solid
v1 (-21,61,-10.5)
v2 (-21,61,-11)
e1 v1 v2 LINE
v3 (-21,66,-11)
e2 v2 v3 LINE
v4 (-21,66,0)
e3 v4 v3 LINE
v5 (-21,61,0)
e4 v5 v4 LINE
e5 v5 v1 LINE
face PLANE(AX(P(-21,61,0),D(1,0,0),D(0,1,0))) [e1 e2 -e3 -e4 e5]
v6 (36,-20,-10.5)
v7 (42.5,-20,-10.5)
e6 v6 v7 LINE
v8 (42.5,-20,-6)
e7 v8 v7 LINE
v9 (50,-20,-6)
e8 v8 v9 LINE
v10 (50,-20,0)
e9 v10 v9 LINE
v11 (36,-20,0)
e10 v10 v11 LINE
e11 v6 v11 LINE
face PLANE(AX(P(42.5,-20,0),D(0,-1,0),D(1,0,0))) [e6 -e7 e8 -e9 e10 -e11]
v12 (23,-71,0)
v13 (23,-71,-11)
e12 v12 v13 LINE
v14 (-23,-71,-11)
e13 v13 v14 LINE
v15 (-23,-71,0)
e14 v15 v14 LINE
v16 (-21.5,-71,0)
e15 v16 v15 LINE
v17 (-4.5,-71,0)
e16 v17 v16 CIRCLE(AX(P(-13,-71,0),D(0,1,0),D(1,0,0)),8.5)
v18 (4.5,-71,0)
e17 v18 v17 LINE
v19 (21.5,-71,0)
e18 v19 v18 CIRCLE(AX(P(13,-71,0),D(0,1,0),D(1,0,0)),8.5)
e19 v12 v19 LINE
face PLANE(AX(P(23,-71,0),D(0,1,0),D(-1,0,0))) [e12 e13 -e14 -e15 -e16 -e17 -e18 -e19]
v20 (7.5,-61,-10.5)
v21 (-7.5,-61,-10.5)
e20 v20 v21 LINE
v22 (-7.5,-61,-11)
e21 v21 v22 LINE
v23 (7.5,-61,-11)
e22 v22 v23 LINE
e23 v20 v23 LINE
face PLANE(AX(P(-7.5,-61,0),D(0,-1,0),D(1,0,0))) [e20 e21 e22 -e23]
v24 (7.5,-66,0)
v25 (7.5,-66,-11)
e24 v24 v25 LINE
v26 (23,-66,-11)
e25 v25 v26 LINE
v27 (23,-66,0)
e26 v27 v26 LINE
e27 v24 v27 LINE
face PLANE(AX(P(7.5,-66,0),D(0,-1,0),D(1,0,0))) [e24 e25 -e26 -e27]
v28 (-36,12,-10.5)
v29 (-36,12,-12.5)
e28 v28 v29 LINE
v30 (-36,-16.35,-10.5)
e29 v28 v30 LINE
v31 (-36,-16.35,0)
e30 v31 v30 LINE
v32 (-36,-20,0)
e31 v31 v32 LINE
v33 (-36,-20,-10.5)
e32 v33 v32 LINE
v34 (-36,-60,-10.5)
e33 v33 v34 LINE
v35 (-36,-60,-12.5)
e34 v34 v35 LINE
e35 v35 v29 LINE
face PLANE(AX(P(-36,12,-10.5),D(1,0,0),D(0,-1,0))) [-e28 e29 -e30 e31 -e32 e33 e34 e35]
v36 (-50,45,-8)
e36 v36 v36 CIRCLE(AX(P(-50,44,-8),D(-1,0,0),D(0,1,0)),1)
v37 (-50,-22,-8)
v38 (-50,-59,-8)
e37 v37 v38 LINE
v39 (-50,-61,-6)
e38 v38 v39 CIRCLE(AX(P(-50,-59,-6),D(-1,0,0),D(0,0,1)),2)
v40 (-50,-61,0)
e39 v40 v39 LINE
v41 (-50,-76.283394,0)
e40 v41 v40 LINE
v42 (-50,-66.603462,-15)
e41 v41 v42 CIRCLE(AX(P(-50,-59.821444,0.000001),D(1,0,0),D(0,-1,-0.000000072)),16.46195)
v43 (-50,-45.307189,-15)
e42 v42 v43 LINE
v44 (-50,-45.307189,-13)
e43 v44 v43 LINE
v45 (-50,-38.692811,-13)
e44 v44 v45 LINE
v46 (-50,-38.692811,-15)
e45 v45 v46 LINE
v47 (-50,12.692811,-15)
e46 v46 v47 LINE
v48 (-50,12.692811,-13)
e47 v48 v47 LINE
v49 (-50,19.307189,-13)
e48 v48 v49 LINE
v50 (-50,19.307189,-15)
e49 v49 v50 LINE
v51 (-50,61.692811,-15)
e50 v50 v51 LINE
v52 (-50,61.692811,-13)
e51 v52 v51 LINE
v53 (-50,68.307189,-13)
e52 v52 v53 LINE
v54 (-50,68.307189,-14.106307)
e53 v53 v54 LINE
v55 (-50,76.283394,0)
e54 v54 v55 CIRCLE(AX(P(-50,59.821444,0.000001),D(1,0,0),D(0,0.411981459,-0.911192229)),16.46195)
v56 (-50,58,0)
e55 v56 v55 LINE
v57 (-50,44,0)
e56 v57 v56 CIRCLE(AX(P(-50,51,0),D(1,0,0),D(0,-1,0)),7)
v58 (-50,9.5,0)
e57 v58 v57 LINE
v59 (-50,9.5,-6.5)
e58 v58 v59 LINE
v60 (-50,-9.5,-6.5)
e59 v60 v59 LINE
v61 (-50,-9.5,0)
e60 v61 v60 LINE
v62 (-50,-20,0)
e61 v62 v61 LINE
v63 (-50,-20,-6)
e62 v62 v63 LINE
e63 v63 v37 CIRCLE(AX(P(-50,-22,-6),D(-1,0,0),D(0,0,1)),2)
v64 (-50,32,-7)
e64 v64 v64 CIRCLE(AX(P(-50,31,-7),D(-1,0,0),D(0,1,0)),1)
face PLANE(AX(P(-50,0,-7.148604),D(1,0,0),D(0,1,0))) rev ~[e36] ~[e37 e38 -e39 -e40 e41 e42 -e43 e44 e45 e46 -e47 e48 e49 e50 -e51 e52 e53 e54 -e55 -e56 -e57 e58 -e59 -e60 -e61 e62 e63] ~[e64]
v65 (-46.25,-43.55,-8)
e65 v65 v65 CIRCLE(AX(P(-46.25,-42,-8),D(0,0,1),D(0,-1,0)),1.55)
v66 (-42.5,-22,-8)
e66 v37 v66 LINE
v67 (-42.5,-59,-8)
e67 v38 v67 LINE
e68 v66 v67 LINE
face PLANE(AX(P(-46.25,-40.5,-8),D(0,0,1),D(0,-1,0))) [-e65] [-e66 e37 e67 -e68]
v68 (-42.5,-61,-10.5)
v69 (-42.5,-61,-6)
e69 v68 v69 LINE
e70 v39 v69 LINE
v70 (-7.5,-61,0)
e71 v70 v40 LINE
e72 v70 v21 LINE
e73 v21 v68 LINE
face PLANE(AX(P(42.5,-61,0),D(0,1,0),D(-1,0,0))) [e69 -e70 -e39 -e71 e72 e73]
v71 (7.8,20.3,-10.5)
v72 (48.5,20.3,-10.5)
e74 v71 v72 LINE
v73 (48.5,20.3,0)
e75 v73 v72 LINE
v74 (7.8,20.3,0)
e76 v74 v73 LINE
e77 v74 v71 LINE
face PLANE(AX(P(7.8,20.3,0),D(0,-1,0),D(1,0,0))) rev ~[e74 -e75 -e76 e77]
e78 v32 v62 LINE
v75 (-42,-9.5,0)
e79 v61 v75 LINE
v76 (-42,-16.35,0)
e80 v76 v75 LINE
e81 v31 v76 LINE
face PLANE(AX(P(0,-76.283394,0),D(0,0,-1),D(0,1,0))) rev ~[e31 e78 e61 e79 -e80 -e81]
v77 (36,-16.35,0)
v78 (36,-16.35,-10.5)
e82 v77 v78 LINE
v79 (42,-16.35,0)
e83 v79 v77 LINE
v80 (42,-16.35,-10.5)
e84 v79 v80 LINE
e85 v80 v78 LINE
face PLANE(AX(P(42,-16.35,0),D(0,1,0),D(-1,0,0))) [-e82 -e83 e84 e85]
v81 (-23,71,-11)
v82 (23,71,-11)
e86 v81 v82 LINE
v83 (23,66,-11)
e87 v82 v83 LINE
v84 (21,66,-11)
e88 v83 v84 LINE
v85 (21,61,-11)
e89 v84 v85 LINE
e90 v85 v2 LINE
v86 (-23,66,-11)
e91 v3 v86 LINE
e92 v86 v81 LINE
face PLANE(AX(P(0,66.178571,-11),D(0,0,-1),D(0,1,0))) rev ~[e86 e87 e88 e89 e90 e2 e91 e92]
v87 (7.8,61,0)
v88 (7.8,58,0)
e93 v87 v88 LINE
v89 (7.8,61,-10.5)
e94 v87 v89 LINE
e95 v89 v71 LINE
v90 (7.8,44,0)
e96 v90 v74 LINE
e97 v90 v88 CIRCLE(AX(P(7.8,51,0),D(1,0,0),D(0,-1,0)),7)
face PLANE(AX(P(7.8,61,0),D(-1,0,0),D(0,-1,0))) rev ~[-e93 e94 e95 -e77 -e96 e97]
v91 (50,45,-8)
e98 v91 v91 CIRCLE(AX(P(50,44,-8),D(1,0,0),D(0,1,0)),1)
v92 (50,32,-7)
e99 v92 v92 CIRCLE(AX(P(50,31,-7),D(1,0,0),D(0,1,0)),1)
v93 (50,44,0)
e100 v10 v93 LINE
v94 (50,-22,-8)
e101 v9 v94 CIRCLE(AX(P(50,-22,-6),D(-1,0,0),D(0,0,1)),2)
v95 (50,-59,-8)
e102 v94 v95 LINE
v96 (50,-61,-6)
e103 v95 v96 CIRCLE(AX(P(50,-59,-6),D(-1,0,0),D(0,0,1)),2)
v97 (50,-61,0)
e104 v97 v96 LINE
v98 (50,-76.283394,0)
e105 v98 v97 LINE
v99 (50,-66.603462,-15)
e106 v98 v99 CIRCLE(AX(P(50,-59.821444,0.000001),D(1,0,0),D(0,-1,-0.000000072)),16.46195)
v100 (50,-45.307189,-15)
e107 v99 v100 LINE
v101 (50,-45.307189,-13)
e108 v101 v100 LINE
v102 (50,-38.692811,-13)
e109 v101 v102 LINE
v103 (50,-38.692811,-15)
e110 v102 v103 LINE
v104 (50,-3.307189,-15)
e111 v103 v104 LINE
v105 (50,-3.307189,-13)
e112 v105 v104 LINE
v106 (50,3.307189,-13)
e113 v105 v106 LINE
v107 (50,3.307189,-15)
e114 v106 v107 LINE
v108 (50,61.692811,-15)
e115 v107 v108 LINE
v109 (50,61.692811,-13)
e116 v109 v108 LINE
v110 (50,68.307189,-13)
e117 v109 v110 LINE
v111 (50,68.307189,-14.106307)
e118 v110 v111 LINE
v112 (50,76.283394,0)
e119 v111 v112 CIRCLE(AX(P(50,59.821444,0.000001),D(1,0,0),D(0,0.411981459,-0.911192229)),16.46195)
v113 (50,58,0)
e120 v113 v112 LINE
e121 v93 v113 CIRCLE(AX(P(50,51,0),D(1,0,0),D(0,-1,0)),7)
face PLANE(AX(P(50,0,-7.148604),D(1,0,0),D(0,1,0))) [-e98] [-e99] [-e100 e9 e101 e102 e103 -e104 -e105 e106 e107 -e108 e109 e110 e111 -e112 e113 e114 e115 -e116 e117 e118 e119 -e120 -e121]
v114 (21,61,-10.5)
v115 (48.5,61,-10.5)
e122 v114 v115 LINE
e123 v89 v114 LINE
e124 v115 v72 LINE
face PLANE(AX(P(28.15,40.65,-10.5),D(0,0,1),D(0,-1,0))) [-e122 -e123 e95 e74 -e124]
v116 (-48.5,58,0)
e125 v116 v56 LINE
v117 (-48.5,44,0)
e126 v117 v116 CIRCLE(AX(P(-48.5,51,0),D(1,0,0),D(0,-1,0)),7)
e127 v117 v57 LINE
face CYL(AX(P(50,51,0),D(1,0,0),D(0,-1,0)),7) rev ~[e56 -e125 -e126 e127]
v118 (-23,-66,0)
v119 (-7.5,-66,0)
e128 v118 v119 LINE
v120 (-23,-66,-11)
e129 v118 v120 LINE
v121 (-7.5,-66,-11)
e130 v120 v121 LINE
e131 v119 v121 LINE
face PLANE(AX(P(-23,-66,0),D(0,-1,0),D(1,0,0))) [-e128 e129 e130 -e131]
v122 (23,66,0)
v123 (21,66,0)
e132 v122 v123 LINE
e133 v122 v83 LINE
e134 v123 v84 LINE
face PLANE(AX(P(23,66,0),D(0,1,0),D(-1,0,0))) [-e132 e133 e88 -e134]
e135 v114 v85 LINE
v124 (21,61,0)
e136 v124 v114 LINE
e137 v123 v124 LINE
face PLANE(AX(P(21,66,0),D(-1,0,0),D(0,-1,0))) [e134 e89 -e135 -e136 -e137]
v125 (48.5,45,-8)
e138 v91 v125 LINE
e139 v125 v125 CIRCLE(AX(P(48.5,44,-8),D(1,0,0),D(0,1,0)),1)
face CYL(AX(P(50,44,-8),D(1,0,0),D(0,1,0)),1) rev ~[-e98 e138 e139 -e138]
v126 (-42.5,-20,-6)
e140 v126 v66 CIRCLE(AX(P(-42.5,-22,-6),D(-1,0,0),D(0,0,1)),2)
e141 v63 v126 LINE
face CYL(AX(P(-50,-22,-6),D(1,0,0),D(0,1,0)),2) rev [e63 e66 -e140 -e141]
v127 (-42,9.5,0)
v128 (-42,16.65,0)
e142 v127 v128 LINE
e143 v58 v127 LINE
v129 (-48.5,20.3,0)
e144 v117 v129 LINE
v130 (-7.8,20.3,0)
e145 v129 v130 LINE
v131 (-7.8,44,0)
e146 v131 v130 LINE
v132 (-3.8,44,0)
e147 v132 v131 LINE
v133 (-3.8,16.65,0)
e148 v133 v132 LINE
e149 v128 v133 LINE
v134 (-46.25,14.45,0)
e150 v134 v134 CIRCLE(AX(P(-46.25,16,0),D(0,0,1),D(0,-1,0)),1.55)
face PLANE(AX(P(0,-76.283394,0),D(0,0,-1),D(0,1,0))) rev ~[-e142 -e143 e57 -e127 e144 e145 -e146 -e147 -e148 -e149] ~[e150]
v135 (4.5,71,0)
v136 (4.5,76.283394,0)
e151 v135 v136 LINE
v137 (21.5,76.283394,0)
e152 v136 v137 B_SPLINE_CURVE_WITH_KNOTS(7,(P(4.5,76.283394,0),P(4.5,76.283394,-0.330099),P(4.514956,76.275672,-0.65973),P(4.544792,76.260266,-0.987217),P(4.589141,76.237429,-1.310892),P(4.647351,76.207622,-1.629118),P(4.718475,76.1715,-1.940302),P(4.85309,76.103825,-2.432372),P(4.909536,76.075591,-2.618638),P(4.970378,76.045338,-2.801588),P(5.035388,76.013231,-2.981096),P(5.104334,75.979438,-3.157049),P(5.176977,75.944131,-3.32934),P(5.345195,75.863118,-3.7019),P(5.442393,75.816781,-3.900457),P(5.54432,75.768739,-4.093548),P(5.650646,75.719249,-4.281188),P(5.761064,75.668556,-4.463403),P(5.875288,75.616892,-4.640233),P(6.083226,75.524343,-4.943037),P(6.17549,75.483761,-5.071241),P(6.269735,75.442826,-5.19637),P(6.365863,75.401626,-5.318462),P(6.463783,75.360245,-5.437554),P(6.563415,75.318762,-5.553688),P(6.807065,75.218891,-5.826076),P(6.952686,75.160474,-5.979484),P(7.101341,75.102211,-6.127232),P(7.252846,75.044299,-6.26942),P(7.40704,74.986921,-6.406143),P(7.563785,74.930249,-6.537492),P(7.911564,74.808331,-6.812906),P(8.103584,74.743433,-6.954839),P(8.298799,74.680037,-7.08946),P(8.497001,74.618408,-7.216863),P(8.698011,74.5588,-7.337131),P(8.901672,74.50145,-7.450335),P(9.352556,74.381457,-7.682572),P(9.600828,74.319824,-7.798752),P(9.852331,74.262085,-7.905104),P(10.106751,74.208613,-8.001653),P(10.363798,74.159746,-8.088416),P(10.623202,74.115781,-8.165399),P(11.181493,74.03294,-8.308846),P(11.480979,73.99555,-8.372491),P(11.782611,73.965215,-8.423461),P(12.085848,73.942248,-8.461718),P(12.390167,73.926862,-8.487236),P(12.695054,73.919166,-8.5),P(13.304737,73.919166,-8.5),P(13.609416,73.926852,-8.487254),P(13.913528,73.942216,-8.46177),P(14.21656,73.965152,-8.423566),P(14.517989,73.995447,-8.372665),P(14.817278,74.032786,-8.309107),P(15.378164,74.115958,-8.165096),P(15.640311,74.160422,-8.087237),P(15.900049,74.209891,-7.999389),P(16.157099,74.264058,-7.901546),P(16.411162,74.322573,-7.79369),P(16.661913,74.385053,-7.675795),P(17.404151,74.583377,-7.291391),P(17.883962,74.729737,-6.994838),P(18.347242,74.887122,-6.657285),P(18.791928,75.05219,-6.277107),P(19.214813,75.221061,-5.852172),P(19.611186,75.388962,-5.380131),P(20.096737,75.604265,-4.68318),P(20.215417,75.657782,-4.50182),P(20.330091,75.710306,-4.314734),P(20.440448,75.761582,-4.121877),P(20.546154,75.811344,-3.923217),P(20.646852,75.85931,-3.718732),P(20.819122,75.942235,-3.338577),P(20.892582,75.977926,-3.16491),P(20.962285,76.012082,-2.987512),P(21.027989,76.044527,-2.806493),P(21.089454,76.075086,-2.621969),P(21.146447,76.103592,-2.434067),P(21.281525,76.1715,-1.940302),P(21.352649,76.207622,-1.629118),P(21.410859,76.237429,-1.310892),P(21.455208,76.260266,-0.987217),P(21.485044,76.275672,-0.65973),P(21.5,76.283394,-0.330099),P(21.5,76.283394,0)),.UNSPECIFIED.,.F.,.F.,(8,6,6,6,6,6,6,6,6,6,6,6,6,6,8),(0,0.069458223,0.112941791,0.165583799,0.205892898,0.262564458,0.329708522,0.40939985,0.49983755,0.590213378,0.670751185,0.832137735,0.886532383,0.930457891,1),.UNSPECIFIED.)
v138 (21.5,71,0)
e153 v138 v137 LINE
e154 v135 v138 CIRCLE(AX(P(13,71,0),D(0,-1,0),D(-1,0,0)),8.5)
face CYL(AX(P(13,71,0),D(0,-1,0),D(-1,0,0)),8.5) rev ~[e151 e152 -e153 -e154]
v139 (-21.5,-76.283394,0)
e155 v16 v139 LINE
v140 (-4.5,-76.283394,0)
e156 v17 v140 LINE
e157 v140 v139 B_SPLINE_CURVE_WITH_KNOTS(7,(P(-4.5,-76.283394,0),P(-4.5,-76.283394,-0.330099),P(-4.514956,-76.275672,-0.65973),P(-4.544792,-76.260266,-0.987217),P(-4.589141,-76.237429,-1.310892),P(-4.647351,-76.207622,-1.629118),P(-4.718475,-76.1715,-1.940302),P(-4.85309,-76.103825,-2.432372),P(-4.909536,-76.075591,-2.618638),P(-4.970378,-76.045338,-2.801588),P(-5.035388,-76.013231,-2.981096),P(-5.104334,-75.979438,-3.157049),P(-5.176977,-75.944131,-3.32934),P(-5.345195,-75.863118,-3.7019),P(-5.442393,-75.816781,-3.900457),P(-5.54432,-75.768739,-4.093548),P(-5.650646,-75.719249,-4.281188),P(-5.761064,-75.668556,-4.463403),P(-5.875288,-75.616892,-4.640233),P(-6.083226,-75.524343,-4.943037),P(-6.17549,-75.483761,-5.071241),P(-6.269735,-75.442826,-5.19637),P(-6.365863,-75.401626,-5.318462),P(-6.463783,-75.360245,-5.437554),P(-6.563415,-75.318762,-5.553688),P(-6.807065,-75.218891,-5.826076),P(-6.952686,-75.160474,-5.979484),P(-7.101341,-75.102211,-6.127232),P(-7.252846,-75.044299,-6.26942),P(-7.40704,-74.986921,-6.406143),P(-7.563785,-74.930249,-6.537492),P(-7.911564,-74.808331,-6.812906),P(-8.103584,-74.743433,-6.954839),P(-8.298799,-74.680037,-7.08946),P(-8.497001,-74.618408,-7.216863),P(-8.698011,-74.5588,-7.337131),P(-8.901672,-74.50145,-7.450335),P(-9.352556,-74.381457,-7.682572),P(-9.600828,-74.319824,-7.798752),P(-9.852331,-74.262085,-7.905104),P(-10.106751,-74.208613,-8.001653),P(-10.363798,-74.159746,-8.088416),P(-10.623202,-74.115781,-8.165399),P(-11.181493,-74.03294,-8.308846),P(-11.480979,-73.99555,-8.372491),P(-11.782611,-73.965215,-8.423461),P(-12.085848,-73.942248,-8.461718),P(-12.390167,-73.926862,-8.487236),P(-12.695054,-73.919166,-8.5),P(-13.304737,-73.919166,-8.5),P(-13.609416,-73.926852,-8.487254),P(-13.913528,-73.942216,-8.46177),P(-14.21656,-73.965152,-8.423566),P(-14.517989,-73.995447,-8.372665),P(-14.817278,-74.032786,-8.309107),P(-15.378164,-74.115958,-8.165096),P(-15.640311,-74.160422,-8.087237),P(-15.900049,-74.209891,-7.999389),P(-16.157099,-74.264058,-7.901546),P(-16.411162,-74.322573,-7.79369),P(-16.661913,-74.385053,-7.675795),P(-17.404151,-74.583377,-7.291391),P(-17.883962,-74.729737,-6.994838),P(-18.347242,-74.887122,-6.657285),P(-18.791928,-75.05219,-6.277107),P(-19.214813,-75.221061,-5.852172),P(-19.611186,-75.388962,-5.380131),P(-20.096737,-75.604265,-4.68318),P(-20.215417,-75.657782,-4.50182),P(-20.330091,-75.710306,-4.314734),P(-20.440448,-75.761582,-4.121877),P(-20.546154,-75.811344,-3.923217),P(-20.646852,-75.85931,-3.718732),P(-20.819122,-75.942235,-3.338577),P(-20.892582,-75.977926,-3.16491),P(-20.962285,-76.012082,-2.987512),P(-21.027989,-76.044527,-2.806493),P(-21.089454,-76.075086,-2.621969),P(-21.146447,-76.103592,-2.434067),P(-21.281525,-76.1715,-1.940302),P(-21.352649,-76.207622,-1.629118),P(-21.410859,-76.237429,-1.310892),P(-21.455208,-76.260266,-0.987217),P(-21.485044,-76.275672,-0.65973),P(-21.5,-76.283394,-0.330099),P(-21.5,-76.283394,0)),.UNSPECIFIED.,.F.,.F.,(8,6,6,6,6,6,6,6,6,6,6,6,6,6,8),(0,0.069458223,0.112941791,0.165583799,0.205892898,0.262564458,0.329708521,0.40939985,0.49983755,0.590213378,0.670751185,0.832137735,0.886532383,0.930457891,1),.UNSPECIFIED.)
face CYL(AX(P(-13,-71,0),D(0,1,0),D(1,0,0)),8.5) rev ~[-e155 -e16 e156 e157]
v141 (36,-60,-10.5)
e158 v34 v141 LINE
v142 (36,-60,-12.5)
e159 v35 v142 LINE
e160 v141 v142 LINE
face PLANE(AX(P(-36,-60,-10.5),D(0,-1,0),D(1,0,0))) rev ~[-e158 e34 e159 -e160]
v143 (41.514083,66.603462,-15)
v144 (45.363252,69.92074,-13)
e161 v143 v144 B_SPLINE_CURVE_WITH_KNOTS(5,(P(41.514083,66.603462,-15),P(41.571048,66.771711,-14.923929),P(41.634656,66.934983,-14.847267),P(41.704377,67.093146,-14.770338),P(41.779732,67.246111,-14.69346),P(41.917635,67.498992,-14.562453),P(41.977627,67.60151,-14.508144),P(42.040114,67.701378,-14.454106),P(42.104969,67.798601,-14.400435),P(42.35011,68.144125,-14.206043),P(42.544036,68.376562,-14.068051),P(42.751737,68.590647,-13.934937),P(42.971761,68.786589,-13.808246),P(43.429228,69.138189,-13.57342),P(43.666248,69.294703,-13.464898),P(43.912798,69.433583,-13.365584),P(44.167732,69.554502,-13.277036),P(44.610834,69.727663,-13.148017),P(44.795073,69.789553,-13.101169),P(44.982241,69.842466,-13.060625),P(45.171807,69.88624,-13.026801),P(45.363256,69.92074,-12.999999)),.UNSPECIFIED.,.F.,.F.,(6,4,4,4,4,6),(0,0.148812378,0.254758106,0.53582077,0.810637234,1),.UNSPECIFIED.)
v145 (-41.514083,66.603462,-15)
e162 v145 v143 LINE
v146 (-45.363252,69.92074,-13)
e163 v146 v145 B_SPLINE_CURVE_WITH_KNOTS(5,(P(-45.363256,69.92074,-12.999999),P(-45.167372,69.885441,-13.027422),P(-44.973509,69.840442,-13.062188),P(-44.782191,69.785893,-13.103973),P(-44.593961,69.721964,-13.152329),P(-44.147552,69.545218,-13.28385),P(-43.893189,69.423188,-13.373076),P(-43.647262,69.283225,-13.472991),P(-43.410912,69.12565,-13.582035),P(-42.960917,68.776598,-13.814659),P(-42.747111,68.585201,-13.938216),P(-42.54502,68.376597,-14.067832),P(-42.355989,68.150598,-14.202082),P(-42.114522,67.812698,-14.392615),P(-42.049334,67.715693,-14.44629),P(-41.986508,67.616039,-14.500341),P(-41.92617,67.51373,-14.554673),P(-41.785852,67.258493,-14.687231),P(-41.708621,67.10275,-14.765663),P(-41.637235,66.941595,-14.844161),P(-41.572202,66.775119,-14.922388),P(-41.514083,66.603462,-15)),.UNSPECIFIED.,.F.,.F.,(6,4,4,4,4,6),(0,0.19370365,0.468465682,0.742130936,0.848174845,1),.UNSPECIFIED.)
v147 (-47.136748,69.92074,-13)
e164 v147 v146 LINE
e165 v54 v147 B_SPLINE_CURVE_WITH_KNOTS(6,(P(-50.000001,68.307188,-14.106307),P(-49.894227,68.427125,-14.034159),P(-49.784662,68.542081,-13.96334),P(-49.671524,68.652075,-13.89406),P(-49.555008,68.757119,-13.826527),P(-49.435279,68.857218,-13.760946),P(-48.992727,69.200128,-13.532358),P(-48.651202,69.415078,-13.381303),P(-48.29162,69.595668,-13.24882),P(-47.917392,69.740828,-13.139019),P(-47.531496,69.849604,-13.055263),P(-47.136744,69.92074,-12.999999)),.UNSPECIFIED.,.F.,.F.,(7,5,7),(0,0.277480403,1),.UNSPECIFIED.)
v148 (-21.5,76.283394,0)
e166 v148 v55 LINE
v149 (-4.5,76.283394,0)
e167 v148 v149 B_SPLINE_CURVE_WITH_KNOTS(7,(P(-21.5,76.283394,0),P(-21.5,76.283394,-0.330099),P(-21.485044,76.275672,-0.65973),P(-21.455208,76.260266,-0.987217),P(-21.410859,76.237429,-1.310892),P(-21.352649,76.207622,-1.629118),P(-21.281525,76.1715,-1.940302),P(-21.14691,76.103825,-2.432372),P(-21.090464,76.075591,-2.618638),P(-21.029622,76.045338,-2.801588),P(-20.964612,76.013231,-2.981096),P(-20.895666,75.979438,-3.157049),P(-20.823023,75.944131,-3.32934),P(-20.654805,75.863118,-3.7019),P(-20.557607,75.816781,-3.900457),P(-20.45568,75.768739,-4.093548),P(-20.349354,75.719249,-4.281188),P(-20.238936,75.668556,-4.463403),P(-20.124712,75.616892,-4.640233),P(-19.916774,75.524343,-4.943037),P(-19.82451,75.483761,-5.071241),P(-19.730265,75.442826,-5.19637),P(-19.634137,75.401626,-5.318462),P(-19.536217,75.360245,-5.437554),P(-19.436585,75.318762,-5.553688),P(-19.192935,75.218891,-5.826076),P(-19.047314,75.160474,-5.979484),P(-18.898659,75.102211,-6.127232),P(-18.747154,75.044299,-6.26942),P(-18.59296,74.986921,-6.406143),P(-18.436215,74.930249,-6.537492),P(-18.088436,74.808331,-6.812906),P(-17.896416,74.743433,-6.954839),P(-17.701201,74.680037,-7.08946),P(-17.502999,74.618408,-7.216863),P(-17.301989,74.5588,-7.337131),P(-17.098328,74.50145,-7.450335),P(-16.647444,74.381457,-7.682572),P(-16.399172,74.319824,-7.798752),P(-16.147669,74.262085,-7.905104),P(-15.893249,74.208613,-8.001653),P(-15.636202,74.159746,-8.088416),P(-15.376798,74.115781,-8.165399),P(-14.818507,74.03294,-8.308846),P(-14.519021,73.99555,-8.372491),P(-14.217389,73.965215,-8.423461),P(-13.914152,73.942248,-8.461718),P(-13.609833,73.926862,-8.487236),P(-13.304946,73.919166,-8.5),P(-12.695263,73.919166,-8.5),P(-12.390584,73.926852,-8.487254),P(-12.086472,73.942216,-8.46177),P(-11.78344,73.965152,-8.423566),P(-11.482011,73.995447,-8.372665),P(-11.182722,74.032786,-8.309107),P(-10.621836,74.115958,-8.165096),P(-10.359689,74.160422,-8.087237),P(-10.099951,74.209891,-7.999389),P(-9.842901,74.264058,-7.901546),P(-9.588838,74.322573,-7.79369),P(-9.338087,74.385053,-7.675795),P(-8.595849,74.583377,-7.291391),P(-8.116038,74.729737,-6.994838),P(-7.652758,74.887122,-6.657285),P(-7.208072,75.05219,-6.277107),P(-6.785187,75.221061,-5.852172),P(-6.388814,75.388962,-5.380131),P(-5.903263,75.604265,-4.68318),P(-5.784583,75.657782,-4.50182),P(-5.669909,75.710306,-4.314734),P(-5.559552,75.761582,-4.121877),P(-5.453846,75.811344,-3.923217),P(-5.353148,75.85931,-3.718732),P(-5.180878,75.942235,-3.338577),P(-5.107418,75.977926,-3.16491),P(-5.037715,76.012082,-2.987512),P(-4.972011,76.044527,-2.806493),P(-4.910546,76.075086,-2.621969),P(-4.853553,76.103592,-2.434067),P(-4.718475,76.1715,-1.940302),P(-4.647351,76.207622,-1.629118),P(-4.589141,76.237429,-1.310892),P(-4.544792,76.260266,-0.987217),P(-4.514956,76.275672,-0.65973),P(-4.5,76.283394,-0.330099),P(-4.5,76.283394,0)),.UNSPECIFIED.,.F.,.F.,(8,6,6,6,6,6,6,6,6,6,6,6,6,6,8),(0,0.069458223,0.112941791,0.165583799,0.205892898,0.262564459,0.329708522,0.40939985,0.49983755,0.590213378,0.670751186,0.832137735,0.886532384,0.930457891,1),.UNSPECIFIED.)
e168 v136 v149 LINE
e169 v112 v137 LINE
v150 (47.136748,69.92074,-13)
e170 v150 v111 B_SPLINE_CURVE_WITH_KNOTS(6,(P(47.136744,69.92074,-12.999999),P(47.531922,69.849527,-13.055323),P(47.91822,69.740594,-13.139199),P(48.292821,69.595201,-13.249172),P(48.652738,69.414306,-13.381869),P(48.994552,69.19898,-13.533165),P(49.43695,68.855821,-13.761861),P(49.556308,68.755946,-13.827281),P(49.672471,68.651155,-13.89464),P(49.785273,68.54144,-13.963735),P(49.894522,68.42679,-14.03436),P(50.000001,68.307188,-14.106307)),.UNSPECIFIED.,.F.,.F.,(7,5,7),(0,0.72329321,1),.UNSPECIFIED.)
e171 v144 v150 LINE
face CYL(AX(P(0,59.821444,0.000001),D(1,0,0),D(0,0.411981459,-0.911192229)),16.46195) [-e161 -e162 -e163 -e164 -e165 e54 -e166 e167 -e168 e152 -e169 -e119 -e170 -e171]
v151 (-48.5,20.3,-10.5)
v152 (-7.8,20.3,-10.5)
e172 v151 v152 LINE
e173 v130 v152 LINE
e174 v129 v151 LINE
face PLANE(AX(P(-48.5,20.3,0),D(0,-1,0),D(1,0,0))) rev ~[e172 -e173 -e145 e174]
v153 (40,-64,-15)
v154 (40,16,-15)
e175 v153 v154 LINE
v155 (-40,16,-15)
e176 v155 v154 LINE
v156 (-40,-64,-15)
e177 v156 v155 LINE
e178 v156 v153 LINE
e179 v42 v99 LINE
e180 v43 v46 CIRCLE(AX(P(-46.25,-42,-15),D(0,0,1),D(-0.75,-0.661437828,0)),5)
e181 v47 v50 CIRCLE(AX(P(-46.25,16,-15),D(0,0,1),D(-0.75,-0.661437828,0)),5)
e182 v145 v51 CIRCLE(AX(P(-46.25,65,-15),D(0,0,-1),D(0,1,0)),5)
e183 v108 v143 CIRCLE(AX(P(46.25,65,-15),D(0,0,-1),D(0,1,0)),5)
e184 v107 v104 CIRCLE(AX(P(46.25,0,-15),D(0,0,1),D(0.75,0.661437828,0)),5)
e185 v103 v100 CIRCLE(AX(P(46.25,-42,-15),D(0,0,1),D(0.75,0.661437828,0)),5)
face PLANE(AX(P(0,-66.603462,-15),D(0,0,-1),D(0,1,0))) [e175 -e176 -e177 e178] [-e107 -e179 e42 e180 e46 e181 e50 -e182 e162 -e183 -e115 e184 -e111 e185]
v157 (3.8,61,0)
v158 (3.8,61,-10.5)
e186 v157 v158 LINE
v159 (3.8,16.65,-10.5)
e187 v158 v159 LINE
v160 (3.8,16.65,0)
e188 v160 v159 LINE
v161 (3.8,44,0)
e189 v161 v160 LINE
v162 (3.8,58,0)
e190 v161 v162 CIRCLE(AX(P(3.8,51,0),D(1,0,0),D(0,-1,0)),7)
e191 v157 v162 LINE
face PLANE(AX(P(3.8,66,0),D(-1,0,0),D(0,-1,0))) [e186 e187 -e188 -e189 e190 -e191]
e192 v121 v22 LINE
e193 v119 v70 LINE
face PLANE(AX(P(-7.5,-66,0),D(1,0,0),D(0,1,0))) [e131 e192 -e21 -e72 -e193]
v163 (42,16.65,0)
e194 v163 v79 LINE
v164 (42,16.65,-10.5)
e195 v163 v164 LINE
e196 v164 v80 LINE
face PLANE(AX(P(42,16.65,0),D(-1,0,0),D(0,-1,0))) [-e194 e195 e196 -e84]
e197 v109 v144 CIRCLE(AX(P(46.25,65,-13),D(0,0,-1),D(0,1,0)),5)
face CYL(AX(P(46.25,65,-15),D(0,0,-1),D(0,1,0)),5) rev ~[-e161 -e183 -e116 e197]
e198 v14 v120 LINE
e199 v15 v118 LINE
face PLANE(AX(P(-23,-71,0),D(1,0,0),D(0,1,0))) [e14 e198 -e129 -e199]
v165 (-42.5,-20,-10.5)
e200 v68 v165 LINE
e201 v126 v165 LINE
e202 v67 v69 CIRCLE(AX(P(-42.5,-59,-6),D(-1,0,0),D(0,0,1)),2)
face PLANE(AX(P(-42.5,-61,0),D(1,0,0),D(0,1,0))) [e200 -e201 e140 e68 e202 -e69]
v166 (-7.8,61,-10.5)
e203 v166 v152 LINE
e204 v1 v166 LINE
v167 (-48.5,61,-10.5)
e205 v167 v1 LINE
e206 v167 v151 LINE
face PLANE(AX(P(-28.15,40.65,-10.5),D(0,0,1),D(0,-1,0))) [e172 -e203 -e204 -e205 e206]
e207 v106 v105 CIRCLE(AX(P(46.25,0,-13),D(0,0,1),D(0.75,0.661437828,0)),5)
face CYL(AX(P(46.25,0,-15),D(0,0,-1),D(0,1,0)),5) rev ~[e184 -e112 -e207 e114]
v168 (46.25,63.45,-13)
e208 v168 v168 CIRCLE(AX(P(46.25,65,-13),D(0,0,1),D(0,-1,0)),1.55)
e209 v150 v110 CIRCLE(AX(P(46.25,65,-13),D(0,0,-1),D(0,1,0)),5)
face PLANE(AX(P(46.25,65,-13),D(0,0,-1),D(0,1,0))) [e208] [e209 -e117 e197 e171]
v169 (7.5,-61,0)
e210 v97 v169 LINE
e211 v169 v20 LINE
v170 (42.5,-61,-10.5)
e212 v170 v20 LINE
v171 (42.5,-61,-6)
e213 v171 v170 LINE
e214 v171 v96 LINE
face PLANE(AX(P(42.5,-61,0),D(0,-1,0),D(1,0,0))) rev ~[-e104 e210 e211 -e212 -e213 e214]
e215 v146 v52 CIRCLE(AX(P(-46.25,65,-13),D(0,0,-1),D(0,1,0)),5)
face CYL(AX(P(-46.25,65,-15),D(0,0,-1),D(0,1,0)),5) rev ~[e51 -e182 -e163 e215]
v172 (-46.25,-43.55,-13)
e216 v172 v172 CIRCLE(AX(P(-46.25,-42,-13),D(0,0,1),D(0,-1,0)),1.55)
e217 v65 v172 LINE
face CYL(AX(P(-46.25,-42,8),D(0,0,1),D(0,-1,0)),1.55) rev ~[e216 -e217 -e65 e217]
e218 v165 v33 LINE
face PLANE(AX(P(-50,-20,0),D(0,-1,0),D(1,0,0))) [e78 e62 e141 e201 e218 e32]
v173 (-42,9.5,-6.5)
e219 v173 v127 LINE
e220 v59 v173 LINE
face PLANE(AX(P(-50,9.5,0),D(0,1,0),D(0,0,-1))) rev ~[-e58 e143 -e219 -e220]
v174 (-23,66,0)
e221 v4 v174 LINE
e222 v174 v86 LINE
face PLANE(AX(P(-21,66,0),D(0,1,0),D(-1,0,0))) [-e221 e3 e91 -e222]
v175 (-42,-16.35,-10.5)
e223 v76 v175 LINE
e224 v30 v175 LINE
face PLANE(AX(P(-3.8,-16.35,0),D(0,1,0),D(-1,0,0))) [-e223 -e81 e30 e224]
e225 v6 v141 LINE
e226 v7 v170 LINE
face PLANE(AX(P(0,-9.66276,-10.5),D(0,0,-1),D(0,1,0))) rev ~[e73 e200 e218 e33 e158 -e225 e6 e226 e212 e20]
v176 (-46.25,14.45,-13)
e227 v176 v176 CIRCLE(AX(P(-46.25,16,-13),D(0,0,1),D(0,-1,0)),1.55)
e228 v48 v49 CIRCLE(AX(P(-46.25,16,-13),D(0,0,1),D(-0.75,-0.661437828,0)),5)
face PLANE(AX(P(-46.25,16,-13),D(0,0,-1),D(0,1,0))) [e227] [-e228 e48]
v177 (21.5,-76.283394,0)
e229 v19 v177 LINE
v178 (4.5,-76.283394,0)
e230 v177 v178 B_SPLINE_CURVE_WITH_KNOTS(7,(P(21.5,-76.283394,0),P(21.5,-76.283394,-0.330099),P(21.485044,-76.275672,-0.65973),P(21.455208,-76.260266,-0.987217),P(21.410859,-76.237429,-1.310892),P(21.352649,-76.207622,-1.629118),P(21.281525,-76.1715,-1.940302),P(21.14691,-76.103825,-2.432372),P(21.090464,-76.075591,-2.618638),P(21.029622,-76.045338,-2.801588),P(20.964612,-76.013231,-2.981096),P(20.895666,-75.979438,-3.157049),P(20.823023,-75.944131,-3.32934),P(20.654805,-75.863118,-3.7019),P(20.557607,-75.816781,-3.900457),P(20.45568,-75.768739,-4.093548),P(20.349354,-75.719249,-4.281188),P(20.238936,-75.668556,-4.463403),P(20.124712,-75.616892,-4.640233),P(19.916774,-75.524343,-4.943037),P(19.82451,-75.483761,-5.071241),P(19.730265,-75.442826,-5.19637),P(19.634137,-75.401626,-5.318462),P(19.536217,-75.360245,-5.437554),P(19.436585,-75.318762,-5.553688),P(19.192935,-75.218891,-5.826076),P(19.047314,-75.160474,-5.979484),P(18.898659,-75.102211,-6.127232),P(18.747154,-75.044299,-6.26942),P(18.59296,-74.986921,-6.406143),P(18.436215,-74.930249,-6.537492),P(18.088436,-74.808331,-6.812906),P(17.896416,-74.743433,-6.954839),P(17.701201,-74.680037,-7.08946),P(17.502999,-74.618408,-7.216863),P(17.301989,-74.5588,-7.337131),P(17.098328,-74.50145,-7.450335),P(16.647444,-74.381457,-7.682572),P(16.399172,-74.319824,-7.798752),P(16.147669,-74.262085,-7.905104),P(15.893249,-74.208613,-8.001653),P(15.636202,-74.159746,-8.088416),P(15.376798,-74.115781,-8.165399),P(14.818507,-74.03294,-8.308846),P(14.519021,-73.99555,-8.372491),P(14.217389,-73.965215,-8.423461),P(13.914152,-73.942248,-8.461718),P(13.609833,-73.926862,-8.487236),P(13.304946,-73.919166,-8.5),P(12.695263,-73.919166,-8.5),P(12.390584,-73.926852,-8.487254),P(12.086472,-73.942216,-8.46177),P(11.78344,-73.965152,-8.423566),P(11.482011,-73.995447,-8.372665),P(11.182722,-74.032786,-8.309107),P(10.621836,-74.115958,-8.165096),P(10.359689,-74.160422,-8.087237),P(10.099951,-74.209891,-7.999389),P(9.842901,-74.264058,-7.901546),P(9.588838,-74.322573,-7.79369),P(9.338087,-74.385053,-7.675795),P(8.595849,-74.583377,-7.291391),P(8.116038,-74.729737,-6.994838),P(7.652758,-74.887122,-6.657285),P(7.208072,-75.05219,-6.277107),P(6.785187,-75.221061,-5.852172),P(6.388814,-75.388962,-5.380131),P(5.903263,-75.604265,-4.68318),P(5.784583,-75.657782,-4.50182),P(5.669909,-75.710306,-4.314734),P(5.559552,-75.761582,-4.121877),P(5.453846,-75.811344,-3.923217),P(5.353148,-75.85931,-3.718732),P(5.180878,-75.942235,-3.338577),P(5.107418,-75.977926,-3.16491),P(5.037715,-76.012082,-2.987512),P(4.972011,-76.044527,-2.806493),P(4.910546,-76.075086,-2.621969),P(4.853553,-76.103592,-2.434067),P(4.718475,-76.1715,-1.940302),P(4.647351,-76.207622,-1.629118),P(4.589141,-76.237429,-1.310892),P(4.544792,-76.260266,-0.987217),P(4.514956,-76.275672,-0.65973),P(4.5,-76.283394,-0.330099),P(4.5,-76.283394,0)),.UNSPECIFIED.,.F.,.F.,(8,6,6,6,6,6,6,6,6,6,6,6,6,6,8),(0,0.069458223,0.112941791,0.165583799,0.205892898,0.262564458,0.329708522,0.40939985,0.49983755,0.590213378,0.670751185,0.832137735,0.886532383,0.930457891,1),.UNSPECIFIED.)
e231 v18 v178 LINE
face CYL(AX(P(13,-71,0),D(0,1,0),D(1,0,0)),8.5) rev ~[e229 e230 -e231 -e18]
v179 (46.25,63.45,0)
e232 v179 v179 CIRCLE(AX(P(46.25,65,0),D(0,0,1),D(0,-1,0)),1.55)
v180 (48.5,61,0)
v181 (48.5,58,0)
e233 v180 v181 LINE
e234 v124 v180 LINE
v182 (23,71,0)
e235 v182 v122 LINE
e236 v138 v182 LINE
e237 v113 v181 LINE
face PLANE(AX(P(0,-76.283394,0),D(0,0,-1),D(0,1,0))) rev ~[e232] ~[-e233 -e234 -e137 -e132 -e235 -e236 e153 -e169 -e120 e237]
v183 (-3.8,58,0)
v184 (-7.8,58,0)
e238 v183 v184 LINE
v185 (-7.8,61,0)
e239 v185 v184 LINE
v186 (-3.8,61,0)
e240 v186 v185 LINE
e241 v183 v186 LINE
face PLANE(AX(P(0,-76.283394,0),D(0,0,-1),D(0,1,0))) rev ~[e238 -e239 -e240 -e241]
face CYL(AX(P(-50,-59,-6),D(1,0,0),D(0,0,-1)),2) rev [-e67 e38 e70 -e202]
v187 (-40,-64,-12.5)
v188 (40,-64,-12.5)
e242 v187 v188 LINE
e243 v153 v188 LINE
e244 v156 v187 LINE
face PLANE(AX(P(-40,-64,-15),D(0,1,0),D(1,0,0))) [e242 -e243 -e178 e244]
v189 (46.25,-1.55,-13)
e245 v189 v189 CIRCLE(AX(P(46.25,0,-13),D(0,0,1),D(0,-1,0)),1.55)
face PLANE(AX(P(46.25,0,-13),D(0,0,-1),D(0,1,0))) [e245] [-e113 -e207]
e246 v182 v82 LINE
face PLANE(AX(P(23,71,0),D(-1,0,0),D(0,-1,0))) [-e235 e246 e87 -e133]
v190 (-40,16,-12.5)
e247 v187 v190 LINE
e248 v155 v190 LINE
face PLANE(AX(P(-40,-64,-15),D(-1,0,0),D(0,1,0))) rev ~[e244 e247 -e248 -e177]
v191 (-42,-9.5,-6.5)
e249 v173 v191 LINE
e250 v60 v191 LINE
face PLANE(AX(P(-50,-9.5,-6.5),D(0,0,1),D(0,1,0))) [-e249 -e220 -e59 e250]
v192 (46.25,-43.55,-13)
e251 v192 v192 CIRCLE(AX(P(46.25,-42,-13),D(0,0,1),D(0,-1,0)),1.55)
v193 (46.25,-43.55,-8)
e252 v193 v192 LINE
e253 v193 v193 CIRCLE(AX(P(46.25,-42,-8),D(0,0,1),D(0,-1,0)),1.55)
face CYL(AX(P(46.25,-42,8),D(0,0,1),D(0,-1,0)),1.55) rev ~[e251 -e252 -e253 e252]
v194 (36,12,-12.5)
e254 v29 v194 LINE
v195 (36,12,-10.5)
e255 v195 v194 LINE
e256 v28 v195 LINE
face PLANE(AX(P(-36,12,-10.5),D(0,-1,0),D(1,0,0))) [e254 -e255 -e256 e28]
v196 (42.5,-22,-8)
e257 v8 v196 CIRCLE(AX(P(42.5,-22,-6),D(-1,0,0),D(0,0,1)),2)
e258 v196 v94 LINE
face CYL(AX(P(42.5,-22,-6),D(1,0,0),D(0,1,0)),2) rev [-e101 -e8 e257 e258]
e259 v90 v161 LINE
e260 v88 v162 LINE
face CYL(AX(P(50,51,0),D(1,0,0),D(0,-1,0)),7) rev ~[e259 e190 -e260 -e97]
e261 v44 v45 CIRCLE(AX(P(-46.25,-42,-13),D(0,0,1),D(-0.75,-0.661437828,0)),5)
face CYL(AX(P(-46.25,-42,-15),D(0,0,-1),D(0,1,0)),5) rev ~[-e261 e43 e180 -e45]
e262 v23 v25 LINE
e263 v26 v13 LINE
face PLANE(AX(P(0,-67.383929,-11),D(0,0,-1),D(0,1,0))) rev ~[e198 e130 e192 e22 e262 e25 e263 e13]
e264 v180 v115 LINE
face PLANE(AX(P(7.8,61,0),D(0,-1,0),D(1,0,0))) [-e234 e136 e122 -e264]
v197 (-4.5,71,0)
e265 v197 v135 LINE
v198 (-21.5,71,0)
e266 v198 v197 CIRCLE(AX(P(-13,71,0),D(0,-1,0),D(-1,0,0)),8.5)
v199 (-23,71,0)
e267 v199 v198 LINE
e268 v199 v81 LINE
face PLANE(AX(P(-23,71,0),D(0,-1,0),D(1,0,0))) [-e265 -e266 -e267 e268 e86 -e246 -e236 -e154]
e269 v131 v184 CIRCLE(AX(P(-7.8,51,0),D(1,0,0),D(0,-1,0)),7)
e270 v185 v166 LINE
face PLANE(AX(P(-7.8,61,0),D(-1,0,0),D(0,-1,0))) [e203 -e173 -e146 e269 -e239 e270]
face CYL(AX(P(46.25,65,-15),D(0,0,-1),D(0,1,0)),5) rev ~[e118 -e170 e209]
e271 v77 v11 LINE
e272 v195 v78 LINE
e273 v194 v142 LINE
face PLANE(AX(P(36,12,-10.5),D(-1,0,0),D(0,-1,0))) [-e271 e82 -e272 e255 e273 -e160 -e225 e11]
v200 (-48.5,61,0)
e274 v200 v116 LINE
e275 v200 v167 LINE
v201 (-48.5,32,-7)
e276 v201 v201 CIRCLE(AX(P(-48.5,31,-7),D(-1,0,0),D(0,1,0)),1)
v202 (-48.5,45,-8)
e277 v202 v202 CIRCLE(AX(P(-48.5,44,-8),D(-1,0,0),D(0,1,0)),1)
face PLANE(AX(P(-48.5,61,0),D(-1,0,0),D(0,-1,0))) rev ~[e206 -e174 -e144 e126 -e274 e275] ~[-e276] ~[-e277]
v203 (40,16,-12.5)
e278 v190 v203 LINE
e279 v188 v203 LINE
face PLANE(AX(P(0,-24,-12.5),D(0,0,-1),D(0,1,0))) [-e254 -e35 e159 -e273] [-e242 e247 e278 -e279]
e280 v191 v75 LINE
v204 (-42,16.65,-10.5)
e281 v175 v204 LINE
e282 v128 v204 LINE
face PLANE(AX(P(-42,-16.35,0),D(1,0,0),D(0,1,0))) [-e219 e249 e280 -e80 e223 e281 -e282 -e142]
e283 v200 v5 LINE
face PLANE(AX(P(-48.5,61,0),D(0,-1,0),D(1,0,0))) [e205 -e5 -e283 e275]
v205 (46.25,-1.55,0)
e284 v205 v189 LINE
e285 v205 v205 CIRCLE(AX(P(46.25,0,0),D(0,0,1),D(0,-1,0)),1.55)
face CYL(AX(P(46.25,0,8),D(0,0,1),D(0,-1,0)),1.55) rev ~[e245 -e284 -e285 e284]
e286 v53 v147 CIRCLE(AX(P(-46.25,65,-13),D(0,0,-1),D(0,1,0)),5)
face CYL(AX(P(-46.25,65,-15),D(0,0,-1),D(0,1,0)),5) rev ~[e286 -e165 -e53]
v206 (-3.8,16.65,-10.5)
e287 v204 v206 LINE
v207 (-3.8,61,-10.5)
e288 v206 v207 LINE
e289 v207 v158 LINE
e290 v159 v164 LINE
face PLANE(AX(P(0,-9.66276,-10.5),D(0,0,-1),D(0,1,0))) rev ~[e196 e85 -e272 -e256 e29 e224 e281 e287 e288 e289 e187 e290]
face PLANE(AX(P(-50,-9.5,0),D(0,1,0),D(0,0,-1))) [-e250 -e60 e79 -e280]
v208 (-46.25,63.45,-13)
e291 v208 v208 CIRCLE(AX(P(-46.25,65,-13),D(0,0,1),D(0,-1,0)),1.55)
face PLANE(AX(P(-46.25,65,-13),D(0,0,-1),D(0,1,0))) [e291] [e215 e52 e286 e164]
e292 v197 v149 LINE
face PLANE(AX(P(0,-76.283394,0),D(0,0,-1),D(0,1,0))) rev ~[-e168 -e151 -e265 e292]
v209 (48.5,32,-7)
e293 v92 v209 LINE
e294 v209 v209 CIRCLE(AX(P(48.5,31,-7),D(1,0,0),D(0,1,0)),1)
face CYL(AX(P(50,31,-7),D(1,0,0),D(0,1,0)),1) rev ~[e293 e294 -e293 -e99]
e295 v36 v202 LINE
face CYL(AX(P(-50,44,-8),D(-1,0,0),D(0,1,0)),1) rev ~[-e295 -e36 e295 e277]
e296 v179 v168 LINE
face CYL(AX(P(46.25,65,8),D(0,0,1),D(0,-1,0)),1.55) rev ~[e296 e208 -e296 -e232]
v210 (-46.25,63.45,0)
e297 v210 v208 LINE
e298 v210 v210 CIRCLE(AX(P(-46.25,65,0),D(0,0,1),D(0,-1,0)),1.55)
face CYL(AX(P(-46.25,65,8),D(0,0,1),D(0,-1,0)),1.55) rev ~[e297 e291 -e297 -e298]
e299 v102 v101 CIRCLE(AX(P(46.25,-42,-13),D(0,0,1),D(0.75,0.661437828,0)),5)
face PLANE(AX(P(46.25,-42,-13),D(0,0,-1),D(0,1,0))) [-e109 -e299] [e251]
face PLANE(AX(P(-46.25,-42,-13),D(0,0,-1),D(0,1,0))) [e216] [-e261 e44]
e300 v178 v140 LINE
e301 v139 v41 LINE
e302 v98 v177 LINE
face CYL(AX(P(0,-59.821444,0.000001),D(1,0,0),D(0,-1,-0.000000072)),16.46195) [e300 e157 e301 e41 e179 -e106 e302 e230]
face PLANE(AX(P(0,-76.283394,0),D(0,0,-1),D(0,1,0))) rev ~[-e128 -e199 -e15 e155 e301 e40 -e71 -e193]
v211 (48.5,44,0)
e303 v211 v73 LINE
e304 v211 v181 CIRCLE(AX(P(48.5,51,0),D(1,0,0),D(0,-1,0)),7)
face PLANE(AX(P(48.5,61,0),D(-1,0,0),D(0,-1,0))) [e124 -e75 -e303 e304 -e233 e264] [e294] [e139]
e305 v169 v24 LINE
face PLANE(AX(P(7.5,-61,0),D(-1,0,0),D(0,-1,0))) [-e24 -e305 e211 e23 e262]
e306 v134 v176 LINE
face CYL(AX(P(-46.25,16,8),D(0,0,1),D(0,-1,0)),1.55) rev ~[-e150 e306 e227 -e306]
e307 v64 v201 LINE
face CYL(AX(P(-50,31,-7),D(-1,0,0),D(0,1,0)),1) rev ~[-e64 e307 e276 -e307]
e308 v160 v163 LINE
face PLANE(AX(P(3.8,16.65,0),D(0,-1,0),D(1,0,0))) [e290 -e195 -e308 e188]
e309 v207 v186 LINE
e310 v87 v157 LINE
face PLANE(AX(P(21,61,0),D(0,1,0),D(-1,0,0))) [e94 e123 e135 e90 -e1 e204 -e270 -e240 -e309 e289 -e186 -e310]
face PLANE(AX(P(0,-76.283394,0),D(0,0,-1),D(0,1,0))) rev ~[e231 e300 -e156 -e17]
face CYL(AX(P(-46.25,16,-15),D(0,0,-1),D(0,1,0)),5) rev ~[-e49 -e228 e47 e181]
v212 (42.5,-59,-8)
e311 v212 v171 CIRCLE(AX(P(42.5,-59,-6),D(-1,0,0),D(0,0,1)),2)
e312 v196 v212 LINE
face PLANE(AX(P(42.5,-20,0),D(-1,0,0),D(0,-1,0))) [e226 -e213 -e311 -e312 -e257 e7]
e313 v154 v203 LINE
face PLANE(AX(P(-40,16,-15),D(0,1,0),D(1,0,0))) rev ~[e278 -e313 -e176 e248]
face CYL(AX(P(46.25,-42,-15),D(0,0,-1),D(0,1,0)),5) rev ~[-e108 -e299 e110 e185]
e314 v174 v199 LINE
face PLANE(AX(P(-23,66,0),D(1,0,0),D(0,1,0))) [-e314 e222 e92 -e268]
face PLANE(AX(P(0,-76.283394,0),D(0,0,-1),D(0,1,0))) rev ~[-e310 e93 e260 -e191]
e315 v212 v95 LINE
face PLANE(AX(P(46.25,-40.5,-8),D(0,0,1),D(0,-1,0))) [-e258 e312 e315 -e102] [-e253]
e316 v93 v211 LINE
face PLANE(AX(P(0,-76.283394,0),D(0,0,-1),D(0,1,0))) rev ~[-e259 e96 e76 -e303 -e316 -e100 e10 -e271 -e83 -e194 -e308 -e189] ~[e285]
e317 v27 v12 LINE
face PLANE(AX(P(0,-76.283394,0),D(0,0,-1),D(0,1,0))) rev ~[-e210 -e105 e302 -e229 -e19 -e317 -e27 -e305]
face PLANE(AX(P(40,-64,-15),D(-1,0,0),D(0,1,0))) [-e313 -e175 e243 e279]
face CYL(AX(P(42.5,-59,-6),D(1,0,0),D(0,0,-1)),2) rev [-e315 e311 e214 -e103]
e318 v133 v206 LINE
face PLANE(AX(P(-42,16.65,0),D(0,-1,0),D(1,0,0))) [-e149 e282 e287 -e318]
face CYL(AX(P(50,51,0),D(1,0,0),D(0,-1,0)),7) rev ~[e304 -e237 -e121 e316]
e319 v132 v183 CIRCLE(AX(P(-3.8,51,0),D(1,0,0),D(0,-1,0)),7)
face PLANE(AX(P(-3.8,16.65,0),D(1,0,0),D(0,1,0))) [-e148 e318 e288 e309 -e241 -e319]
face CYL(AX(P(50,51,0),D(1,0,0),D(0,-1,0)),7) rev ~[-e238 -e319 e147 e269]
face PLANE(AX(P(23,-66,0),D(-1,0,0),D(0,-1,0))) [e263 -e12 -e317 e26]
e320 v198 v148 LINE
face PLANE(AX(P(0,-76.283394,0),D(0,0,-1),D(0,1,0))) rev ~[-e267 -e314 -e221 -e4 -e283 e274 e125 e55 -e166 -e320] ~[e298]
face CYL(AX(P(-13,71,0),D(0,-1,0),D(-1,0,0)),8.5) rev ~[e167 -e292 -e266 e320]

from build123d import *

# Parameters (mm, degrees)
PAD008_DEPTH         = 50
SKETCH025_W          = 40.7
SKETCH025_H          = 40.7
POCKET016_DEPTH      = 10.5
POCKET017_DEPTH      = 11
POCKET018_DEPTH      = 7
POCKET019_DEPTH      = 7
SKETCH029_W          = 41
SKETCH029_H          = 7.5
POCKET020_DEPTH      = 8
POCKET021_DEPTH      = 100.001
SKETCH031_R          = 1
POCKET022_DEPTH      = 5
SKETCH032_R          = 1
SKETCH032_W          = 19
SKETCH032_H          = 6.5
POCKET023_DEPTH      = 10
SKETCH034_R          = 1.55
POCKET024_DEPTH      = 23.001
SKETCH036_R          = 5
POCKET025_DEPTH      = 2
FILLET013_R          = 2
SKETCH037_W          = 72
SKETCH037_H          = 72
POCKET026_DEPTH      = 2.5
POCKET026_DEPTH_BACK = 11
SKETCH038_W          = 80
SKETCH038_H          = 80
POCKET027_DEPTH      = 2.5


with BuildPart() as part:
    # Sketch024 → Pad008 (new body, symmetric)
    with BuildSketch(Plane.YZ):
        with BuildLine():
            ThreePointArc((-76.283394, 0), (-73.65331, -8.9261), (-66.603462, -15))
            Line((-66.603462, -15), (66.603462, -15))
            ThreePointArc((66.603462, -15), (73.65331, -8.9261), (76.283394, 0))
            Line((-76.283394, 0), (76.283394, 0))
        make_face()
    extrude(amount=PAD008_DEPTH, both=True)

    # Sketch025 (on Face4 of Pad008) → Pocket016 (cut)
    with BuildSketch(Plane(origin=(0, 0, 0), x_dir=(0, -1, 0), z_dir=(0, 0, 1))):
        with Locations((-40.65, -28.15)):
            Rectangle(SKETCH025_W, SKETCH025_H)
        with Locations((-40.65, 28.15)):
            Rectangle(SKETCH025_W, SKETCH025_H)
        Polygon((-66, 3.8), (-16.65, 3.8), (-16.65, 42), (16.35, 42), (16.35, 3.8), (20, 3.8), (20, 42.5), (61, 42.5), (61, -42.5), (20, -42.5), (20, -3.8), (16.35, -3.8), (16.35, -42), (-16.65, -42), (-16.65, -3.8), (-66, -3.8), align=None)
    extrude(amount=-POCKET016_DEPTH, mode=Mode.SUBTRACT)

    # Sketch026 (on Face2 of Pocket016) → Pocket017 (cut)
    with BuildSketch(Plane(origin=(0, 0, 0), x_dir=(0, -1, 0), z_dir=(0, 0, 1))):
        Polygon((-71, 23), (-66, 23), (-66, 21), (-61, 21), (-61, -21), (-66, -21), (-66, -23), (-71, -23), align=None)
        Polygon((66, 23), (71, 23), (71, -23), (66, -23), (66, -7.5), (61, -7.5), (61, 7.5), (66, 7.5), align=None)
    extrude(amount=-POCKET017_DEPTH, mode=Mode.SUBTRACT)

    # Sketch027 (on Face41 of Pocket017) → Pocket018 (cut)
    with BuildSketch(Plane(origin=(0, 71, 0), x_dir=(0, 0, -1), z_dir=(0, -1, 0))):
        with BuildLine():
            ThreePointArc((0, 4.5), (8.5, 13), (0, 21.5))
            Line((0, 21.5), (0, 4.5))
        make_face()
        with BuildLine():
            ThreePointArc((0, -21.5), (8.5, -13), (0, -4.5))
            Line((0, -4.5), (0, -21.5))
        make_face()
    extrude(amount=-POCKET018_DEPTH, mode=Mode.SUBTRACT)

    # Sketch028 (on Face22 of Pocket017) → Pocket019 (cut)
    with BuildSketch(Plane.ZX.offset(-71)):
        with BuildLine():
            ThreePointArc((0, 21.5), (-8.5, 13), (0, 4.5))
            Line((0, 21.5), (0, 4.5))
        make_face()
        with BuildLine():
            ThreePointArc((0, -4.5), (-8.5, -13), (0, -21.5))
            Line((0, -4.5), (0, -21.5))
        make_face()
    extrude(amount=-POCKET019_DEPTH, mode=Mode.SUBTRACT)

    # Sketch029 (on Face2 of Pocket016) → Pocket020 (cut)
    with BuildSketch(Plane(origin=(0, 0, 0), x_dir=(0, -1, 0), z_dir=(0, 0, 1))):
        with Locations((40.5, 46.25)):
            Rectangle(SKETCH029_W, SKETCH029_H)
        with Locations((40.5, -46.25)):
            Rectangle(SKETCH029_W, SKETCH029_H)
    extrude(amount=-POCKET020_DEPTH, mode=Mode.SUBTRACT)

    # Sketch030 → Pocket021 (cut, through all)
    with BuildSketch(Plane.YZ.offset(50)):
        with BuildLine():
            ThreePointArc((44, 0), (51, -7), (58, 0))
            Line((44, 0), (58, 0))
        make_face()
    extrude(amount=-POCKET021_DEPTH, mode=Mode.SUBTRACT)

    # Sketch031 → Pocket022 (cut)
    with BuildSketch(Plane.YZ.offset(50)):
        with Locations((31, -7)):
            Circle(SKETCH031_R)
        with Locations((44, -8)):
            Circle(SKETCH031_R)
    extrude(amount=-POCKET022_DEPTH, mode=Mode.SUBTRACT)

    # Sketch032 → Pocket023 (cut)
    with BuildSketch(Plane(origin=(-50, 0, 0), x_dir=(0, 1, 0), z_dir=(-1, 0, 0))):
        with Locations((31, 7)):
            Circle(SKETCH032_R)
        with Locations((44, 8)):
            Circle(SKETCH032_R)
        with Locations((0, 3.25)):
            Rectangle(SKETCH032_W, SKETCH032_H)
    extrude(amount=-POCKET023_DEPTH, mode=Mode.SUBTRACT)

    # Sketch034 → Pocket024 (cut, through all)
    with BuildSketch(Plane(origin=(0, 0, 8), x_dir=(0, -1, 0), z_dir=(0, 0, 1))):
        with Locations((42, 46.25)):
            Circle(SKETCH034_R)
        with Locations((42, -46.25)):
            Circle(SKETCH034_R)
        with Locations((-16, -46.25)):
            Circle(SKETCH034_R)
        with Locations((0, 46.25)):
            Circle(SKETCH034_R)
        with Locations((-65, 46.25)):
            Circle(SKETCH034_R)
        with Locations((-65, -46.25)):
            Circle(SKETCH034_R)
    extrude(amount=-POCKET024_DEPTH, mode=Mode.SUBTRACT)

    # Sketch036 → Pocket025 (cut)
    with BuildSketch(Plane.YX.offset(15)):
        with Locations((-42, 46.25)):
            Circle(SKETCH036_R)
        with Locations((-42, -46.25)):
            Circle(SKETCH036_R)
        with Locations((16, -46.25)):
            Circle(SKETCH036_R)
        with Locations((0, 46.25)):
            Circle(SKETCH036_R)
        with Locations((65, 46.25)):
            Circle(SKETCH036_R)
        with Locations((65, -46.25)):
            Circle(SKETCH036_R)
    extrude(amount=-POCKET025_DEPTH, mode=Mode.SUBTRACT)

    # Fillet013
    fillet013_edges = [part.edges().sort_by_distance(p)[0] for p in [
        (46.25, -61, -8),
        (46.25, -20, -8),
        (-46.25, -20, -8),
        (-46.25, -61, -8),
    ]]
    fillet(fillet013_edges, radius=FILLET013_R)

    # Sketch037 (on Face69 of Fillet013) → Pocket026 (cut, two sides)
    with BuildSketch(Plane(origin=(0, 0, -10.5), x_dir=(0, -1, 0), z_dir=(0, 0, 1))) as pocket026_sk:
        with Locations((24, 0)):
            Rectangle(SKETCH037_W, SKETCH037_H)
    extrude(amount=-POCKET026_DEPTH, mode=Mode.SUBTRACT)
    extrude(pocket026_sk.sketch, amount=POCKET026_DEPTH_BACK, mode=Mode.SUBTRACT)

    # Sketch038 (on Face5 of Pocket026) → Pocket027 (cut)
    with BuildSketch(Plane.YX.offset(15)):
        with Locations((-24, 0)):
            Rectangle(SKETCH038_W, SKETCH038_H)
    extrude(amount=-POCKET027_DEPTH, mode=Mode.SUBTRACT)


solid = part.part
